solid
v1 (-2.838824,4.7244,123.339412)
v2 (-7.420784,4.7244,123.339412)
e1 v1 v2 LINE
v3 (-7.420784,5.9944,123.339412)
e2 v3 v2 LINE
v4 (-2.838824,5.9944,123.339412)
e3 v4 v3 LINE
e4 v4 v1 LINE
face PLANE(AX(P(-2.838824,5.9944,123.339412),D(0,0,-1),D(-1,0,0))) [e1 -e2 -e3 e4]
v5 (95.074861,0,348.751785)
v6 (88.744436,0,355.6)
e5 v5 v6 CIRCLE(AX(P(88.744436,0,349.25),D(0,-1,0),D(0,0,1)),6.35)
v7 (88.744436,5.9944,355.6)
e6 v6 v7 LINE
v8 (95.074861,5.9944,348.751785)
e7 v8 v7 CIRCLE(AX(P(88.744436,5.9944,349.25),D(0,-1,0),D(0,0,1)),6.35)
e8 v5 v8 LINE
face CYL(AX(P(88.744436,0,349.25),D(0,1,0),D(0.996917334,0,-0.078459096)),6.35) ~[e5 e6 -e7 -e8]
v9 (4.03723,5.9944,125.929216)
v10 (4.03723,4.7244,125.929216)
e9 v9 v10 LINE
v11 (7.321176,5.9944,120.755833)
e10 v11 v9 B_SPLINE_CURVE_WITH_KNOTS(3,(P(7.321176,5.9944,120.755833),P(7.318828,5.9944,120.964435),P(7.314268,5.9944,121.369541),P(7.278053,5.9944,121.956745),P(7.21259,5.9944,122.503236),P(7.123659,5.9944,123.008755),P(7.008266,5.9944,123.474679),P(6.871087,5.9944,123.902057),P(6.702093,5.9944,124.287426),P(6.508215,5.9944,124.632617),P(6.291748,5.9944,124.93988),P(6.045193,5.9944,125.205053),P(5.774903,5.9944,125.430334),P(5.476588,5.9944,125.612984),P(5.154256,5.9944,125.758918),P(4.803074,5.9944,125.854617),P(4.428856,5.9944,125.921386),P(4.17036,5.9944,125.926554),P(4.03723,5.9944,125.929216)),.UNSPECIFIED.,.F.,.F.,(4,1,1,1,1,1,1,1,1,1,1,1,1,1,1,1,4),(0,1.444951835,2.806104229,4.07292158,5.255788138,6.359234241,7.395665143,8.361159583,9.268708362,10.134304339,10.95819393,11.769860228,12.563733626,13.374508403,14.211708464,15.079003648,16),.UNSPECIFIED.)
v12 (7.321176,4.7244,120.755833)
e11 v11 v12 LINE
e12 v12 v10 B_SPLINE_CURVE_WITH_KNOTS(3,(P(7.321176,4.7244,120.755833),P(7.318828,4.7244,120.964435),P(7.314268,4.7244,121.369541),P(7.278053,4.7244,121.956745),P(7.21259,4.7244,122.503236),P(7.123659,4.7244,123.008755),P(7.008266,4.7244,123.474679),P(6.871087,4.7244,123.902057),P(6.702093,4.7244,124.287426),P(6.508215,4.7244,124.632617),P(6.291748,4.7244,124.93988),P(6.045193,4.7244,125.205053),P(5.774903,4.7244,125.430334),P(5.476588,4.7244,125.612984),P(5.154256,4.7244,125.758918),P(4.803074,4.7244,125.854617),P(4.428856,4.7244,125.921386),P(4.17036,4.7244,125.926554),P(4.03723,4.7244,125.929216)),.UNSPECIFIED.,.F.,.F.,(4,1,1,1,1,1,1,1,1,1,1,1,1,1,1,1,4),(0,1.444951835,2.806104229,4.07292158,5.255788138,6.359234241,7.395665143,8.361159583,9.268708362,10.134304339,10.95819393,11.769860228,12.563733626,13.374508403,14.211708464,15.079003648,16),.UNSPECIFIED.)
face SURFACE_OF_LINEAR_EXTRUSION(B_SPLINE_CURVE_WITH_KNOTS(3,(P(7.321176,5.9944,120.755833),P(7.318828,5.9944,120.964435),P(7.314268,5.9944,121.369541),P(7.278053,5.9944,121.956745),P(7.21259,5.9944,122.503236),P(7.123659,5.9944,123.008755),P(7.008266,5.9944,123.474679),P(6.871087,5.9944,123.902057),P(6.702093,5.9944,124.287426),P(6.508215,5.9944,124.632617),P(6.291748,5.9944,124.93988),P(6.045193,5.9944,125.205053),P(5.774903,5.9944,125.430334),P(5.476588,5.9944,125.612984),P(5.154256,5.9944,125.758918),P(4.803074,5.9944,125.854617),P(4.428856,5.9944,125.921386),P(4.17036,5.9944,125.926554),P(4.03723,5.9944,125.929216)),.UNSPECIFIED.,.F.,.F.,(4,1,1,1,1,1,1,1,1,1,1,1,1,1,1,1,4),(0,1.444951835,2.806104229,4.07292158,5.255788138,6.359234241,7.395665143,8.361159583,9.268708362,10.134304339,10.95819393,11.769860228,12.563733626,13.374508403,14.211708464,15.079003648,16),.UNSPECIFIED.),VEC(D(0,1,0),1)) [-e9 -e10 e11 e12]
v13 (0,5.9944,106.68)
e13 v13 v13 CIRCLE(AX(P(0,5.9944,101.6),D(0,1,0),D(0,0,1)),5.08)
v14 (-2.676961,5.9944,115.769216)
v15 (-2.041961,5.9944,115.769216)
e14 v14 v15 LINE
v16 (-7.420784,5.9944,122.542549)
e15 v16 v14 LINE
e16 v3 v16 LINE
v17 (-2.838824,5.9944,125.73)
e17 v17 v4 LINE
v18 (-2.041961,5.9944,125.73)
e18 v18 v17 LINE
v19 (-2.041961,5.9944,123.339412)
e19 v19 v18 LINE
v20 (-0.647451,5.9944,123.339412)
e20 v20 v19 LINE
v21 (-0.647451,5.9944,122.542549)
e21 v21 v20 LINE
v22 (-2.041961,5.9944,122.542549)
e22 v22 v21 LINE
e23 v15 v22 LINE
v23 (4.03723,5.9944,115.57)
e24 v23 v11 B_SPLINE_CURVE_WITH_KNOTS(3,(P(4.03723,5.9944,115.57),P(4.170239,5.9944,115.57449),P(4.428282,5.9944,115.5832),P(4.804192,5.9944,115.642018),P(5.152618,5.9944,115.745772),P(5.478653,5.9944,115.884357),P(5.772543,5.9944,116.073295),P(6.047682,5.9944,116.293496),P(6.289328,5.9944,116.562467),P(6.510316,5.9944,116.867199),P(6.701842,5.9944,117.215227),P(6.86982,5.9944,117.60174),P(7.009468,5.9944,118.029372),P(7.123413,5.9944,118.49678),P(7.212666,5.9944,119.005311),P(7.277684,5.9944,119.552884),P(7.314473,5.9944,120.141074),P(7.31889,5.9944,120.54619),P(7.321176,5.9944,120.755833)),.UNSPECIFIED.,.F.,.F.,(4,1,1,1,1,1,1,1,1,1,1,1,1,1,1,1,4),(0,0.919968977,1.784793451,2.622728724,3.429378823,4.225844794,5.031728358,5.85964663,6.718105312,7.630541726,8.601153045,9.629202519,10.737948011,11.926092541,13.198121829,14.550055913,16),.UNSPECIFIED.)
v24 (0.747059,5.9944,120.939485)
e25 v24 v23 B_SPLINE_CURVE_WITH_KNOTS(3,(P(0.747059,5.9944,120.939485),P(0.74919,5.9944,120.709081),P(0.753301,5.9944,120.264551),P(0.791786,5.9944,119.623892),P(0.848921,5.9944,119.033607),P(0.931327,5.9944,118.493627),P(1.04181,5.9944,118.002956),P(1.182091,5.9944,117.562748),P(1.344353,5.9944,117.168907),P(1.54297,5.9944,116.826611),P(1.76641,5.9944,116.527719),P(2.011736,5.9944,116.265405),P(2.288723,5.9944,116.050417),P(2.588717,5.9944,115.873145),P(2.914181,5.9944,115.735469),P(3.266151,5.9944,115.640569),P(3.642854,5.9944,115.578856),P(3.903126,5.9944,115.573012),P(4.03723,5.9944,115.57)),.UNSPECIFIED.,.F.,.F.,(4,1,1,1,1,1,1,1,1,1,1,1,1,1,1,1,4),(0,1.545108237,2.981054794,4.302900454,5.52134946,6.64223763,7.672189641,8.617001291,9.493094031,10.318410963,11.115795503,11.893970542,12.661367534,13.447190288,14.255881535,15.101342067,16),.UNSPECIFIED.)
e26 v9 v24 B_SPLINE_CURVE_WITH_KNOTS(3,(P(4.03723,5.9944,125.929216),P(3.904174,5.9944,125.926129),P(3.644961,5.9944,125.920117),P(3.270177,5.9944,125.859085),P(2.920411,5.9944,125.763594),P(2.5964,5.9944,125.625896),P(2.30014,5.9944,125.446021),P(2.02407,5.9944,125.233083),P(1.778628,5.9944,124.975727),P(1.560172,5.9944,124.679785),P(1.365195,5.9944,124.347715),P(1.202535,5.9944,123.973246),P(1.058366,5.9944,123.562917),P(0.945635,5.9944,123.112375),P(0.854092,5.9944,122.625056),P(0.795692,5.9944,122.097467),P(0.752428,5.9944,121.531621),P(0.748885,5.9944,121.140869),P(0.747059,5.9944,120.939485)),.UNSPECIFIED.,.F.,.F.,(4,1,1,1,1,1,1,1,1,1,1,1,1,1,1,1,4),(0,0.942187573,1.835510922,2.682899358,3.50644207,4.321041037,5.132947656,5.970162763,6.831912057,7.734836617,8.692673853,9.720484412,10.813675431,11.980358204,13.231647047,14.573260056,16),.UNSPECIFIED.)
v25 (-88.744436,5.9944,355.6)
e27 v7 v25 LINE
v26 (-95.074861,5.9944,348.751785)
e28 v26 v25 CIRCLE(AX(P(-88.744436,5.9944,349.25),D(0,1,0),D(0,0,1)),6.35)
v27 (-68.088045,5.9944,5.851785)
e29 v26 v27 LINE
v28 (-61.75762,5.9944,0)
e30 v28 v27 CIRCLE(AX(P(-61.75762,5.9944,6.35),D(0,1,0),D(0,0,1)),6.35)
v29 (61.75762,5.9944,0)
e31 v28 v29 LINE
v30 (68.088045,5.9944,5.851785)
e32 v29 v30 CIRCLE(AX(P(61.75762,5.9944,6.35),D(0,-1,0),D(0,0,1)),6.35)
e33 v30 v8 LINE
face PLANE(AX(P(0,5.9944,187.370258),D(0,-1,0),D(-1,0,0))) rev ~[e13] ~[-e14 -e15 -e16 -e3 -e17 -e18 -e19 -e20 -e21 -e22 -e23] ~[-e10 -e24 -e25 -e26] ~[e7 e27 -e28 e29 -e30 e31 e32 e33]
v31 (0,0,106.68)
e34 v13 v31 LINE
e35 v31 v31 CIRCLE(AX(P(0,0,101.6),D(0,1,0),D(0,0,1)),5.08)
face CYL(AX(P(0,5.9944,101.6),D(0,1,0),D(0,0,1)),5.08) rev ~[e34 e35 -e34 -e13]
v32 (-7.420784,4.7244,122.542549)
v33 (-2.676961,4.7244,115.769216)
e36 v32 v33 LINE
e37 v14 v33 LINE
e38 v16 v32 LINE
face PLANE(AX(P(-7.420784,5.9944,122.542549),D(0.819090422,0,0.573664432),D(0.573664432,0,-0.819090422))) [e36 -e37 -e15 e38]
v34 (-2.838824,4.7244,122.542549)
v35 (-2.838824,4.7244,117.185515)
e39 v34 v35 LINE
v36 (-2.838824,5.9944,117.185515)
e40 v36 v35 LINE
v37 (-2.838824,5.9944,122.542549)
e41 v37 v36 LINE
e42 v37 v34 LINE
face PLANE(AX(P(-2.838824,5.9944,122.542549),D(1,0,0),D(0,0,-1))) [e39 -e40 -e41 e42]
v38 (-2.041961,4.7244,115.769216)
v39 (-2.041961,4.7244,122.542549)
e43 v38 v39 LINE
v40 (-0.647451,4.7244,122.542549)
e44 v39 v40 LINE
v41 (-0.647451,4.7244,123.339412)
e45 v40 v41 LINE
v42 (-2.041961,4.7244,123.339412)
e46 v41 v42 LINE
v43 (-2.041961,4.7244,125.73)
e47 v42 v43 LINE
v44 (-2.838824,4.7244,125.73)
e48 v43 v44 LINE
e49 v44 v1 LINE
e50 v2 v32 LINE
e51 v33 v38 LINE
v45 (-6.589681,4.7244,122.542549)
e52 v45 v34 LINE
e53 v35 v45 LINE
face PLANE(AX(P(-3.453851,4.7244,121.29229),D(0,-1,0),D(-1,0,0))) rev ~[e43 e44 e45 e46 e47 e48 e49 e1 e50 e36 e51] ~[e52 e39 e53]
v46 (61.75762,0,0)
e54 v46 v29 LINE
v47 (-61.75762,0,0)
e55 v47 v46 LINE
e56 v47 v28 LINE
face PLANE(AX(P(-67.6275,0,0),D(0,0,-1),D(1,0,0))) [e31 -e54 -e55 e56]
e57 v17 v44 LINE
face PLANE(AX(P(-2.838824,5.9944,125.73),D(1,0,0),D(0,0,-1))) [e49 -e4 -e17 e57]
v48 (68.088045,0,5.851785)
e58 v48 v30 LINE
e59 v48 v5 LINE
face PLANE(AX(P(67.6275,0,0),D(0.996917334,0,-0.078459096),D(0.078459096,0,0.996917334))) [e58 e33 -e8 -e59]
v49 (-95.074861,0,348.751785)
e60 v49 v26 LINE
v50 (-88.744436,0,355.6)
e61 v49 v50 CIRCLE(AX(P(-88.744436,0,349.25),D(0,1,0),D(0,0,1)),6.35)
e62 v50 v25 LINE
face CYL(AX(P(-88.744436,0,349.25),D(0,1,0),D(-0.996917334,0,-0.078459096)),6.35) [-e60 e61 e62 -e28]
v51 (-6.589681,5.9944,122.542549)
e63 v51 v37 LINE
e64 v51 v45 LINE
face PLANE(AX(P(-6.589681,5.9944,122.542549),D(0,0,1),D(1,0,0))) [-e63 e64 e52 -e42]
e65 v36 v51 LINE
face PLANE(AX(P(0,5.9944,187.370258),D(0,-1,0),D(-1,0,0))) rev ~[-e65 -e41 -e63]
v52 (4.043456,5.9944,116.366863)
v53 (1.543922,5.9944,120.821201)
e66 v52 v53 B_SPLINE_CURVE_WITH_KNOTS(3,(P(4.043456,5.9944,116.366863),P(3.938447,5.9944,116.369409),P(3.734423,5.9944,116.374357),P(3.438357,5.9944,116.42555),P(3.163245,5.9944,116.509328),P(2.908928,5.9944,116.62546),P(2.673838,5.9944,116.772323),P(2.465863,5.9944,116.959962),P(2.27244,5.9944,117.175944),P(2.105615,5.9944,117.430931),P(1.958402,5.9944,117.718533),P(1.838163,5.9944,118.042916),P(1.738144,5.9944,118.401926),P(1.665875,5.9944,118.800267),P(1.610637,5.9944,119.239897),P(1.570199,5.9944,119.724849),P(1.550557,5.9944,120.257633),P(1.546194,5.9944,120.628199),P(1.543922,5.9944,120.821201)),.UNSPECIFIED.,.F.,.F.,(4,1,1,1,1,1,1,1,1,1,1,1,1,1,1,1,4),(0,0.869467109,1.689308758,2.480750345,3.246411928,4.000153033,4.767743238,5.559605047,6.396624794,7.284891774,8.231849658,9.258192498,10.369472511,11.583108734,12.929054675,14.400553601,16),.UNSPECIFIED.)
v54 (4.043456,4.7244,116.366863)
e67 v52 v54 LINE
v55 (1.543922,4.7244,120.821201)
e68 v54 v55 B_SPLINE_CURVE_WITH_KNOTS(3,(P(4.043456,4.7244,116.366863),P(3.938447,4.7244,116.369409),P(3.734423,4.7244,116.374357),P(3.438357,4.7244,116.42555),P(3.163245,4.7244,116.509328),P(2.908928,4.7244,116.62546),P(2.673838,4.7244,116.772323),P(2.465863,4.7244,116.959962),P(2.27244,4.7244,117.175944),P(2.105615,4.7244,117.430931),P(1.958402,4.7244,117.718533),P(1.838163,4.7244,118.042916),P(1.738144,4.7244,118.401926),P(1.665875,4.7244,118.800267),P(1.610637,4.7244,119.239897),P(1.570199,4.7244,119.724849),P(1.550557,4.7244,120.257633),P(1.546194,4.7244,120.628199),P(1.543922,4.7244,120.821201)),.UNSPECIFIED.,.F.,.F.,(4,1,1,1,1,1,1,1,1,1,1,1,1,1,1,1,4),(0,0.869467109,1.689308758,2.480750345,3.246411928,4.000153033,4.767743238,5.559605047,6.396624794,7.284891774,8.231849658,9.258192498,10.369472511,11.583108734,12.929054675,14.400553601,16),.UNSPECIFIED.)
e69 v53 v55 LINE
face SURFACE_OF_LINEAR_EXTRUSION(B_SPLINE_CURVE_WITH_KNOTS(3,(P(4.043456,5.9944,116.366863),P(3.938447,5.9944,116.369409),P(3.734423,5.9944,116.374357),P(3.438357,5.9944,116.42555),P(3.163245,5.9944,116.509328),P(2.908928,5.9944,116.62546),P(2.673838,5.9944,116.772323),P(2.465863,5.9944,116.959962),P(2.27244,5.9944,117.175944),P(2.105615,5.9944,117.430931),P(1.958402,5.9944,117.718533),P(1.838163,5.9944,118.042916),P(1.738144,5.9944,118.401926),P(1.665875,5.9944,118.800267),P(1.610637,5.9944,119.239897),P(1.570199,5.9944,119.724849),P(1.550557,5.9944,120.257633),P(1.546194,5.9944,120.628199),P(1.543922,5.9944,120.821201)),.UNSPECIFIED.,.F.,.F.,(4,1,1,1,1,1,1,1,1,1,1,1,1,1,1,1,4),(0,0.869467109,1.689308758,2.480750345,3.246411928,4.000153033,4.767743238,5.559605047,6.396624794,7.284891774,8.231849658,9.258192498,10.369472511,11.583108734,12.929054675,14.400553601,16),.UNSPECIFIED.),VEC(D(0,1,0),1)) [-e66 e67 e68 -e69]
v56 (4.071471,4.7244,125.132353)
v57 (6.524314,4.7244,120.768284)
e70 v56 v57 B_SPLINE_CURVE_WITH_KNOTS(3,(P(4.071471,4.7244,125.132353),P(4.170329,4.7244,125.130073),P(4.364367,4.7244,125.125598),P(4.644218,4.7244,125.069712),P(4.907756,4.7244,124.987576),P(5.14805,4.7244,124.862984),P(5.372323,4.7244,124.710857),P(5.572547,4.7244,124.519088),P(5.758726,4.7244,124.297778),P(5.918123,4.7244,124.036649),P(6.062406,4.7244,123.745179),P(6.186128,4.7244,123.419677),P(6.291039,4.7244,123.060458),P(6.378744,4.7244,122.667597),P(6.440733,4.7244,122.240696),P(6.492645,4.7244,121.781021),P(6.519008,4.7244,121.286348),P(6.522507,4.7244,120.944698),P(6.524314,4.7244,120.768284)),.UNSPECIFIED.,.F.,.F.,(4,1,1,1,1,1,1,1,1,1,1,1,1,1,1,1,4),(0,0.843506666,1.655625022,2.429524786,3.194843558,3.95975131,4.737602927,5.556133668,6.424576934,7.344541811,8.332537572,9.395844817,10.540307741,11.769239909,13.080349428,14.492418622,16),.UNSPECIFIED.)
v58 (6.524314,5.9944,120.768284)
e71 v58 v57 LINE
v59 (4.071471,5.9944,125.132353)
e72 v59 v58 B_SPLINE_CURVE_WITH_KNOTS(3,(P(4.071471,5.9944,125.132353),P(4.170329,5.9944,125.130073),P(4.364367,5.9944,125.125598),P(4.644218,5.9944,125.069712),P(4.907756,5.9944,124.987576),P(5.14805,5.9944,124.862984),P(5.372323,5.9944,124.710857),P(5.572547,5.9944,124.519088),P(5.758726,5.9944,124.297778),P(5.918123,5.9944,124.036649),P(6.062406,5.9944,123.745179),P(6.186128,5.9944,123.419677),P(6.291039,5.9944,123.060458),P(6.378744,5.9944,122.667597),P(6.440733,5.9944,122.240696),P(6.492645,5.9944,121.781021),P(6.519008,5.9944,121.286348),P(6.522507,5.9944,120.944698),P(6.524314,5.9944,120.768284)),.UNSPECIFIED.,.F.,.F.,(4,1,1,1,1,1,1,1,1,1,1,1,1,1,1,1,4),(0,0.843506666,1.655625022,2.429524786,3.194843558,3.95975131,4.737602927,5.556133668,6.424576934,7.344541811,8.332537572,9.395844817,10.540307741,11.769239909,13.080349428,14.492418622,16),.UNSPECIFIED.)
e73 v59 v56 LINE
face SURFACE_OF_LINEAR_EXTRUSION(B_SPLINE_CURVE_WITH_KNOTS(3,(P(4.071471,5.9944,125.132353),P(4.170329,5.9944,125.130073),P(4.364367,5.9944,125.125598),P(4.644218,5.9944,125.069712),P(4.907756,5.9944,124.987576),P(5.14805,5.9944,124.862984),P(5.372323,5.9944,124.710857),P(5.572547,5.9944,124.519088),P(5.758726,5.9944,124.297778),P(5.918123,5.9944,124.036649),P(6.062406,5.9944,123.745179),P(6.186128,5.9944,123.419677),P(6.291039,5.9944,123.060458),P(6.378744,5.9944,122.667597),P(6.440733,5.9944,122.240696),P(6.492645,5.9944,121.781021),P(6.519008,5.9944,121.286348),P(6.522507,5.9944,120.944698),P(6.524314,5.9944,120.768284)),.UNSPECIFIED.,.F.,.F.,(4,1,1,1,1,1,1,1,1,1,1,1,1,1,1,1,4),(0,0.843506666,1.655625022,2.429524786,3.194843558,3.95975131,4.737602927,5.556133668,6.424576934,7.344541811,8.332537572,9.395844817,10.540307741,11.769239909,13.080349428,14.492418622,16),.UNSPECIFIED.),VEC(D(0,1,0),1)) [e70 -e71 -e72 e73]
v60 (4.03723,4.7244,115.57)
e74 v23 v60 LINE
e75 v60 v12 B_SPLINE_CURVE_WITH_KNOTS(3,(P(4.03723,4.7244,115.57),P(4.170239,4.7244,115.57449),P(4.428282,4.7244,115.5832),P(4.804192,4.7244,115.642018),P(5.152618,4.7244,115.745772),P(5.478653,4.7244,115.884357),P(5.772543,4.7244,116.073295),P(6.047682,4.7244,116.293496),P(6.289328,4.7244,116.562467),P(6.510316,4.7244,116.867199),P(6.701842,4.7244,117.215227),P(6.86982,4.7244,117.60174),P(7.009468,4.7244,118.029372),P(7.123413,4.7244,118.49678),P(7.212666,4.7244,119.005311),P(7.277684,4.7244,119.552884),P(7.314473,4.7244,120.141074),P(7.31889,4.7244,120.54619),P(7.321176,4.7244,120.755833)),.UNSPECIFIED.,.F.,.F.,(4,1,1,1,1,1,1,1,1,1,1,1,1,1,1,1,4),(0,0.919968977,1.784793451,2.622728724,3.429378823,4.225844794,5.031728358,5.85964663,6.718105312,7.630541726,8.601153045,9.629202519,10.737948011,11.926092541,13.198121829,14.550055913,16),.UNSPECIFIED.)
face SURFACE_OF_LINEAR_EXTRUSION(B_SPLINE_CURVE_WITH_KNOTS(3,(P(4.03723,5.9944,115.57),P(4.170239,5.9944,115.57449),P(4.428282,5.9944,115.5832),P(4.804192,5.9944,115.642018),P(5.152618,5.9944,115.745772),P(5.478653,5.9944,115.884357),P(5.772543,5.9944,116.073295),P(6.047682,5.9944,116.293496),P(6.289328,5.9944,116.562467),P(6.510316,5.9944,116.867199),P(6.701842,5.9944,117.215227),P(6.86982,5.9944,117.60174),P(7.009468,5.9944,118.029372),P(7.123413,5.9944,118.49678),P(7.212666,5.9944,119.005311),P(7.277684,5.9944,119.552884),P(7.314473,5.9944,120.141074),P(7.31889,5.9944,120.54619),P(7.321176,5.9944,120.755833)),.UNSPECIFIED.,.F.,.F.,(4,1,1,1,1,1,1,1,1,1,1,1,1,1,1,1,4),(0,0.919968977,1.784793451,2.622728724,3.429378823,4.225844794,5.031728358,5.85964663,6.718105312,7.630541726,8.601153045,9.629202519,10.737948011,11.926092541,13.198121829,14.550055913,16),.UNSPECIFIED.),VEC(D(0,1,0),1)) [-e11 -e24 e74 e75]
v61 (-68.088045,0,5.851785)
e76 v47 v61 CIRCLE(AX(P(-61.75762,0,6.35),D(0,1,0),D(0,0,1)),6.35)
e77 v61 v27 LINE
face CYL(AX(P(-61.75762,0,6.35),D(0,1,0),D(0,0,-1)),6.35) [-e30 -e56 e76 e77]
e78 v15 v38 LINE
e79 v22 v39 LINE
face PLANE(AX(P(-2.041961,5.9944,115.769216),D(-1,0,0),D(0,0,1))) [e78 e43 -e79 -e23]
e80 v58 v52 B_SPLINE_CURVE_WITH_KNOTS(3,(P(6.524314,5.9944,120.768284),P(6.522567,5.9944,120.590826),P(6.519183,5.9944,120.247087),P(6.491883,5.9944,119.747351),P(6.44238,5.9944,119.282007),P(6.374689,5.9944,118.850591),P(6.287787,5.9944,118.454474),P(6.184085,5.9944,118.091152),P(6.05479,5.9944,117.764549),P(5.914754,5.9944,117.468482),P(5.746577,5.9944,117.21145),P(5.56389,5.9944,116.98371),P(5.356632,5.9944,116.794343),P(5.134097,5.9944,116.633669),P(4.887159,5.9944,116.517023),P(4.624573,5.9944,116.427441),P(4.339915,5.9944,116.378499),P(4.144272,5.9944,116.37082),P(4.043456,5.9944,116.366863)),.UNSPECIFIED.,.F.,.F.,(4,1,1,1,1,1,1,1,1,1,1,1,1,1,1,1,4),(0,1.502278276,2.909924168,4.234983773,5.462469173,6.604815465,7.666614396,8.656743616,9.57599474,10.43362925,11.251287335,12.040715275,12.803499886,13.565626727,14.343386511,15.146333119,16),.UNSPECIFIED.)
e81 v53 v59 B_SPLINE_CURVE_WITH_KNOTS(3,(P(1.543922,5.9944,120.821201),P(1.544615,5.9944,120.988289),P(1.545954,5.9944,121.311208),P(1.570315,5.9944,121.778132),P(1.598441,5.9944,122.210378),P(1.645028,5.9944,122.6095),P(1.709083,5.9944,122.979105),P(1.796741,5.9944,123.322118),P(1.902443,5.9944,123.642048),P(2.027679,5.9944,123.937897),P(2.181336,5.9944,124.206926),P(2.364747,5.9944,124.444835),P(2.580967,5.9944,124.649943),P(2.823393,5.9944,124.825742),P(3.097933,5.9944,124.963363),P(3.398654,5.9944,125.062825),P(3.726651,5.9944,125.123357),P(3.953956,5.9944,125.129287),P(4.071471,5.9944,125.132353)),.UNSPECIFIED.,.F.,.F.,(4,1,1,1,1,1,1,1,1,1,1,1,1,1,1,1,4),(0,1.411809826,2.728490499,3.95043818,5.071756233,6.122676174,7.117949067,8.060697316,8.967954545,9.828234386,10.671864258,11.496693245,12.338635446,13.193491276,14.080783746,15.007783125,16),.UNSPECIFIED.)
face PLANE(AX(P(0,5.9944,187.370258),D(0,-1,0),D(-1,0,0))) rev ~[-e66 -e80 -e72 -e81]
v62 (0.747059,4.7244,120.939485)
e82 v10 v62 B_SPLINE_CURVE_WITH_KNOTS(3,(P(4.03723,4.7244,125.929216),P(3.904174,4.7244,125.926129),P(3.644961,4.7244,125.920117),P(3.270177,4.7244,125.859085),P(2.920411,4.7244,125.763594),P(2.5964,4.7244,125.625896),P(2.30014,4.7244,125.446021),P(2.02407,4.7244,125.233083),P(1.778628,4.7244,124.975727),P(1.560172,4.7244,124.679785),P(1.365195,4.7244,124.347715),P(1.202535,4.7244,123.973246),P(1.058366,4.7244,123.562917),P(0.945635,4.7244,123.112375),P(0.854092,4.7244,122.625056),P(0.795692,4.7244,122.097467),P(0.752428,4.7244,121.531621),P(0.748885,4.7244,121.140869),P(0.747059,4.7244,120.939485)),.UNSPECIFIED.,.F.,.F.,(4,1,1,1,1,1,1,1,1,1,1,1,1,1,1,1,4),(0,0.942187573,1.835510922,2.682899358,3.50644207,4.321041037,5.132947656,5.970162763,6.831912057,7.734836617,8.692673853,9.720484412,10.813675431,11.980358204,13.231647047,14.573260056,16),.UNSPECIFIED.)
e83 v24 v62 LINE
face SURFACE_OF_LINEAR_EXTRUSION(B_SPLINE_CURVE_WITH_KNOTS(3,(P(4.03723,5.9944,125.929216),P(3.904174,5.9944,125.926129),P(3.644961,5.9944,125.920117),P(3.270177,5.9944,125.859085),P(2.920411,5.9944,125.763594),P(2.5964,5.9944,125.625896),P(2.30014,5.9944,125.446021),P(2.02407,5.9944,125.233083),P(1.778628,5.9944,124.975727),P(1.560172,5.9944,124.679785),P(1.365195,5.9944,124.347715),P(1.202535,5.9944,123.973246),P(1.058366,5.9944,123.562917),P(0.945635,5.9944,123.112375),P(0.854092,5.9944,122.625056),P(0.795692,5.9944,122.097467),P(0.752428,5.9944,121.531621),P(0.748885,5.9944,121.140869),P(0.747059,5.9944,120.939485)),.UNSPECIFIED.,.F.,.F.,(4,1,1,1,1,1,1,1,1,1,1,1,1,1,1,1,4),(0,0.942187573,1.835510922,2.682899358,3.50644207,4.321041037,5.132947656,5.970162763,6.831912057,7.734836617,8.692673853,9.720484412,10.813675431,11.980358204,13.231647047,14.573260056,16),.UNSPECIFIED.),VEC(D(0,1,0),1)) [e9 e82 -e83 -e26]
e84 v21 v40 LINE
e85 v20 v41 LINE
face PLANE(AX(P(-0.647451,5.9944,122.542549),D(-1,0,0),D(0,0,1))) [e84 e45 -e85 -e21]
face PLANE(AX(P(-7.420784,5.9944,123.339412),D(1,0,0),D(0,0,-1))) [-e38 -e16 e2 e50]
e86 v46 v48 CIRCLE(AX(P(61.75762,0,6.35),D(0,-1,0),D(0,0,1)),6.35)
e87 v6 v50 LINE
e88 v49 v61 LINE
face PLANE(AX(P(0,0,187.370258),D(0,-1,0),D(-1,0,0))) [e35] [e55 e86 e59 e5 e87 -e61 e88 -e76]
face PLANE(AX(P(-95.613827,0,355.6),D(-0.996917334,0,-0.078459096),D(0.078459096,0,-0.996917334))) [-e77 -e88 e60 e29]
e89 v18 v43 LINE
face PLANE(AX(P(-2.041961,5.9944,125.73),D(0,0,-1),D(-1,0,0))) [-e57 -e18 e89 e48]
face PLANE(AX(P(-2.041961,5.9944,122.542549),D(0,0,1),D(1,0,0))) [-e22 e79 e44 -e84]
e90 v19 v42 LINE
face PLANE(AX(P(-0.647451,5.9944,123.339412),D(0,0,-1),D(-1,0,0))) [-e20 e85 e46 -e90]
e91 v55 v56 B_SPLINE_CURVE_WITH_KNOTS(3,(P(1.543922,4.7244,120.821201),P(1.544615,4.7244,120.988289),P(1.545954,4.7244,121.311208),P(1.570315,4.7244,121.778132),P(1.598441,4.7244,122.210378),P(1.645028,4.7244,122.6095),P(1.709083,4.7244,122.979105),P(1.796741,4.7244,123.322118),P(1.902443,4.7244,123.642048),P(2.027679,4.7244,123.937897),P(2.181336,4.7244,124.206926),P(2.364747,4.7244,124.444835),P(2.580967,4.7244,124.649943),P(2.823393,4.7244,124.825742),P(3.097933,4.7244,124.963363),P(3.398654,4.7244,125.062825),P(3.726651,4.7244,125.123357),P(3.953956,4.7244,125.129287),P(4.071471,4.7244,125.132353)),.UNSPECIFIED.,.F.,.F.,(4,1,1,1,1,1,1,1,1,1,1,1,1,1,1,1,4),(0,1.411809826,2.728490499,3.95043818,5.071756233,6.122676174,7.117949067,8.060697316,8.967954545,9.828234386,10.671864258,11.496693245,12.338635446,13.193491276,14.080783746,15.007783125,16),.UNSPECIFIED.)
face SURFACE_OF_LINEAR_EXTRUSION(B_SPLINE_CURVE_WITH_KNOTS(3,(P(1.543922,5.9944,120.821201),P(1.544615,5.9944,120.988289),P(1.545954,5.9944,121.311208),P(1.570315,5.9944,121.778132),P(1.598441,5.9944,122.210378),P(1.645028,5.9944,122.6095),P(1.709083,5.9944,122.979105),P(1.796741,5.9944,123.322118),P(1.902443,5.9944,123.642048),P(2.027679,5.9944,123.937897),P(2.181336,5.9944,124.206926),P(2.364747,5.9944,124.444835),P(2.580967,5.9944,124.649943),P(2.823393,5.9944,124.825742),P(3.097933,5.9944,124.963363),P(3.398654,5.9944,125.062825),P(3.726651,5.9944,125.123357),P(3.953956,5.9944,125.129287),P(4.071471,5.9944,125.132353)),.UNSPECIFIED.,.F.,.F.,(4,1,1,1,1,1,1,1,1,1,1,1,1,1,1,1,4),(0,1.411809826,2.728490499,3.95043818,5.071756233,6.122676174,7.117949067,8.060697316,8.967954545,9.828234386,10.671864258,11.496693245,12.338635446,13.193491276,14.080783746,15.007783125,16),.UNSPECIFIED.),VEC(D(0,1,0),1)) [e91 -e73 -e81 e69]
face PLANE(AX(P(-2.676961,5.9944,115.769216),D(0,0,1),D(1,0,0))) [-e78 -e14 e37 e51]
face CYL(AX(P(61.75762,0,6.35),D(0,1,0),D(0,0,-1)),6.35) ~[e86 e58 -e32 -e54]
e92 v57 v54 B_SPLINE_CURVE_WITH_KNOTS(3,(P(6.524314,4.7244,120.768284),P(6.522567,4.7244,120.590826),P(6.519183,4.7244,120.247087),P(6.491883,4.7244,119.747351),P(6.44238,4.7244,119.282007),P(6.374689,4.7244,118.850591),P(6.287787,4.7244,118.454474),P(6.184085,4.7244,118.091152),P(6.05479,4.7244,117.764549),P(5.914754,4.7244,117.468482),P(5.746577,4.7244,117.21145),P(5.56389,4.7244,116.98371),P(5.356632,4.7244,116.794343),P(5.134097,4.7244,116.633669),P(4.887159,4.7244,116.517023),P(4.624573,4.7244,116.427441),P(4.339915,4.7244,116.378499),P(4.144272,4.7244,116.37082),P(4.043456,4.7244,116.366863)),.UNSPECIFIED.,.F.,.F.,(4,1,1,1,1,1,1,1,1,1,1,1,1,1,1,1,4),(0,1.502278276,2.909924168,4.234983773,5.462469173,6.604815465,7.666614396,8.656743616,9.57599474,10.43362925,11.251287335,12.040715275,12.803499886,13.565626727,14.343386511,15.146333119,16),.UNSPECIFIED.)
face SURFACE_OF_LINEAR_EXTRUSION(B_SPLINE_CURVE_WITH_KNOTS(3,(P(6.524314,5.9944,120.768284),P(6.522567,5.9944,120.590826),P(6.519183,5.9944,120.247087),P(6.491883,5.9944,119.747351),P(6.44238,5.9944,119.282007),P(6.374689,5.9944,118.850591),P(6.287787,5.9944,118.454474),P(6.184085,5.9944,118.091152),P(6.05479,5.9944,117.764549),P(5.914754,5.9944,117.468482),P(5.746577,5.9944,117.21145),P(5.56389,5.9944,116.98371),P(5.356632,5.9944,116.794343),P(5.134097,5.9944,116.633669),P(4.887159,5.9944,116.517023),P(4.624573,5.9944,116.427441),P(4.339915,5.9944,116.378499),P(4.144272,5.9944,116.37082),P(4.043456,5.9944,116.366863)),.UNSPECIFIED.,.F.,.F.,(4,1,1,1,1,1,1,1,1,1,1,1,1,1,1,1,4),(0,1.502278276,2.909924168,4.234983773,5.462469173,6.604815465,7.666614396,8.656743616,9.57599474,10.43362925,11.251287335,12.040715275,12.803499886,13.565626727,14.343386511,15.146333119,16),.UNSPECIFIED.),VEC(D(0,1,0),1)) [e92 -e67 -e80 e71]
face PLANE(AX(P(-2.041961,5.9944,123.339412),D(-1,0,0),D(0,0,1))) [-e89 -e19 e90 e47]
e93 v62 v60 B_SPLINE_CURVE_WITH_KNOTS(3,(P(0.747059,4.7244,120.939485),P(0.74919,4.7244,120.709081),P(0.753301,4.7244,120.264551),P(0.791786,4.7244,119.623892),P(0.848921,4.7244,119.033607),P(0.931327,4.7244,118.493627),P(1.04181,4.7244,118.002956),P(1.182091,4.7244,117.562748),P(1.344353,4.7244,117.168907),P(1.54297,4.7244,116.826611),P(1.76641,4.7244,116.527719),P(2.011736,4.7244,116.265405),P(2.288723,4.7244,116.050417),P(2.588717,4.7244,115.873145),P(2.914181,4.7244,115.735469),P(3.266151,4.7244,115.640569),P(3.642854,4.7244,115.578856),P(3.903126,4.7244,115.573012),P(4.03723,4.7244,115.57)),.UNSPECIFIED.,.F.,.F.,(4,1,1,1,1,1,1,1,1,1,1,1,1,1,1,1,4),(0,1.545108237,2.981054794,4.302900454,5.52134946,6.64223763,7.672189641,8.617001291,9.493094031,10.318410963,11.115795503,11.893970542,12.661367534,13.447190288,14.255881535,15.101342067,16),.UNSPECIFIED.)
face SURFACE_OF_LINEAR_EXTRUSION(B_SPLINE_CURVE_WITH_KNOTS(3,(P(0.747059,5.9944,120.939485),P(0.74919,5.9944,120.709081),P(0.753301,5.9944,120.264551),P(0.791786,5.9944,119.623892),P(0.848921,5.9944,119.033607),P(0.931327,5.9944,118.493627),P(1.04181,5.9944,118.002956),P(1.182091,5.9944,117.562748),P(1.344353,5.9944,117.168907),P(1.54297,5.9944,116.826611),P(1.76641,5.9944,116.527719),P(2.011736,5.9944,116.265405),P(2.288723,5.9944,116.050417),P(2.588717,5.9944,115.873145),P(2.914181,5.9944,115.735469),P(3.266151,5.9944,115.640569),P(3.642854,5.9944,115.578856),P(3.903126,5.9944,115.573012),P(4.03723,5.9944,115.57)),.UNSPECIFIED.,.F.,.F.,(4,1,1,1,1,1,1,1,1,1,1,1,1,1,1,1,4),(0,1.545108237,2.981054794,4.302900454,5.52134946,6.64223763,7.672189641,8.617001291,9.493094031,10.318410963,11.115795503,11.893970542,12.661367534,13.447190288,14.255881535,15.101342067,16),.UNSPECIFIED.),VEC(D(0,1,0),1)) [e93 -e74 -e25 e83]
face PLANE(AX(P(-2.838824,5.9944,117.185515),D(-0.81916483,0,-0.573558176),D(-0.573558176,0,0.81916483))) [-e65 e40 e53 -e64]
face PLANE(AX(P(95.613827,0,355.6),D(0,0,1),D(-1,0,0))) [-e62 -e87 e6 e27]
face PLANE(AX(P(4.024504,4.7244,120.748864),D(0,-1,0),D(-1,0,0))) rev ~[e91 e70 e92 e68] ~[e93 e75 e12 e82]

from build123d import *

# Parameters (mm, degrees)
BOSS_EXTRUDE1_DEPTH = 5.9944
SKETCH2_R           = 5.08
CUT_EXTRUDE1_DEPTH  = 369.278830147
CUT_EXTRUDE2_DEPTH  = 1.27
FILLET1_R           = 6.35


with BuildPart() as part:
    # Sketch1 → Boss-Extrude1 (new body)
    with BuildSketch(Plane(origin=(0, 0, 0), x_dir=(1, 0, 0), z_dir=(0, 1, 0))):
        Polygon((-67.6275, 0), (67.6275, 0), (95.613826947, -355.6), (-95.613826947, -355.6), align=None)
    extrude(amount=BOSS_EXTRUDE1_DEPTH)

    # Sketch2 → Cut-Extrude1 (cut, through all)
    with BuildSketch(Plane(origin=(0, 5.9944, 0), x_dir=(1, 0, 0), z_dir=(0, 1, 0))):
        with Locations(Location((0, -101.6, 0), (0, 0, 270))):
            Circle(SKETCH2_R)
    extrude(amount=-CUT_EXTRUDE1_DEPTH, mode=Mode.SUBTRACT)

    # Sketch3 → Cut-Extrude2 (cut)
    # profile 1 of 2: a face of its own
    with BuildSketch(Plane(origin=(0, 5.9944, 0), x_dir=(1, 0, 0), z_dir=(0, 1, 0))):
        Polygon((-0.64745098, -123.339411765), (-2.041960784, -123.339411765), (-2.041960784, -125.73), (-2.838823529, -125.73), (-2.838823529, -123.339411765), (-7.420784314, -123.339411765), (-7.420784314, -122.54254902), (-2.676960784, -115.769215686), (-2.041960784, -115.769215686), (-2.041960784, -122.54254902), (-0.64745098, -122.54254902), align=None)
        Polygon((-2.838823529, -122.54254902), (-2.838823529, -117.185514706), (-6.589681373, -122.54254902), align=None, mode=Mode.SUBTRACT)
    # profile 2 of 2: a face of its own
    with BuildSketch(Plane(origin=(0, 5.9944, 0), x_dir=(1, 0, 0), z_dir=(0, 1, 0))):
        with BuildLine():
            add(Edge.make_bspline(
                [(7.321176471, -120.755833333), (7.318828398, -120.964435203), (7.314268428, -121.369541156), (7.278053355, -121.956745016), (7.212590307, -122.503235643), (7.123658685, -123.008755237), (7.008266172, -123.474678786), (6.871087333, -123.902056716), (6.702092819, -124.287425995), (6.508215245, -124.632617465), (6.291747836, -124.939879658), (6.045192851, -125.205053414), (5.774903263, -125.430333986), (5.47658793, -125.612983557), (5.154255704, -125.75891836), (4.803074469, -125.854617169), (4.428855706, -125.921386338), (4.17035965, -125.926554175), (4.037230392, -125.929215686)],
                knots=[0, 0, 0, 0, 1.444951835, 2.806104229, 4.07292158, 5.255788138, 6.359234241, 7.395665143, 8.361159583, 9.268708362, 10.134304339, 10.95819393, 11.769860228, 12.563733626, 13.374508403, 14.211708464, 15.079003648, 16, 16, 16, 16], degree=3))
            add(Edge.make_bspline(
                [(4.037230392, -125.929215686), (3.904173743, -125.926129436), (3.644961099, -125.920116997), (3.27017657, -125.859085315), (2.920411161, -125.763594373), (2.59640029, -125.625895969), (2.300139806, -125.446021212), (2.024069589, -125.233082993), (1.778627689, -124.975727427), (1.560171839, -124.679785297), (1.365195047, -124.347714828), (1.20253453, -123.973246068), (1.058366082, -123.562916679), (0.945634561, -123.112374896), (0.854092493, -122.625055928), (0.795691583, -122.097466824), (0.752427723, -121.531621273), (0.748884772, -121.140869167), (0.747058824, -120.939485294)],
                knots=[0, 0, 0, 0, 0.942187573, 1.835510922, 2.682899358, 3.50644207, 4.321041037, 5.132947656, 5.970162763, 6.831912057, 7.734836617, 8.692673853, 9.720484412, 10.813675431, 11.980358204, 13.231647047, 14.573260056, 16, 16, 16, 16], degree=3))
            add(Edge.make_bspline(
                [(0.747058824, -120.939485294), (0.749189738, -120.709081181), (0.753301018, -120.264550974), (0.791785956, -119.623892076), (0.848921011, -119.033607435), (0.931327178, -118.493626742), (1.041809864, -118.002956136), (1.18209133, -117.562748274), (1.344352733, -117.168906906), (1.542969603, -116.826611164), (1.76640963, -116.527719309), (2.011736134, -116.265404707), (2.288722816, -116.05041743), (2.588716504, -115.873144616), (2.914180915, -115.735469097), (3.266151279, -115.640569114), (3.642854433, -115.578856283), (3.90312556, -115.573011518), (4.037230392, -115.57)],
                knots=[0, 0, 0, 0, 1.545108237, 2.981054794, 4.302900454, 5.52134946, 6.64223763, 7.672189641, 8.617001291, 9.493094031, 10.318410963, 11.115795503, 11.893970542, 12.661367534, 13.447190288, 14.255881535, 15.101342067, 16, 16, 16, 16], degree=3))
            add(Edge.make_bspline(
                [(4.037230392, -115.57), (4.170238627, -115.57448963), (4.428282356, -115.583199774), (4.804192318, -115.642018007), (5.152618043, -115.745772402), (5.478653289, -115.884356647), (5.772542755, -116.073295118), (6.047681503, -116.293496105), (6.289327541, -116.562467111), (6.510315761, -116.867199073), (6.701841879, -117.215226558), (6.869820244, -117.601739646), (7.009467972, -118.029371708), (7.123413066, -118.496780378), (7.21266615, -119.005311375), (7.277684225, -119.552884468), (7.314472673, -120.141074122), (7.318890361, -120.546189931), (7.321176471, -120.755833333)],
                knots=[0, 0, 0, 0, 0.919968977, 1.784793451, 2.622728724, 3.429378823, 4.225844794, 5.031728358, 5.85964663, 6.718105312, 7.630541726, 8.601153045, 9.629202519, 10.737948011, 11.926092541, 13.198121829, 14.550055913, 16, 16, 16, 16], degree=3))
        make_face()
        with BuildLine():
            add(Edge.make_bspline(
                [(6.524313725, -120.768284314), (6.522566947, -120.59082563), (6.519183425, -120.247086842), (6.491882586, -119.747351272), (6.442379883, -119.282006526), (6.374689104, -118.850591154), (6.287787289, -118.454473729), (6.184085269, -118.091152232), (6.054789642, -117.764549081), (5.914753741, -117.468482457), (5.746577036, -117.21145005), (5.563889756, -116.983709924), (5.356631682, -116.79434266), (5.134096525, -116.633668508), (4.887159424, -116.51702345), (4.624573174, -116.42744118), (4.339914631, -116.378499272), (4.144272117, -116.370819959), (4.043455882, -116.366862745)],
                knots=[0, 0, 0, 0, 1.502278276, 2.909924168, 4.234983773, 5.462469173, 6.604815465, 7.666614396, 8.656743616, 9.57599474, 10.43362925, 11.251287335, 12.040715275, 12.803499886, 13.565626727, 14.343386511, 15.146333119, 16, 16, 16, 16], degree=3))
            add(Edge.make_bspline(
                [(4.043455882, -116.366862745), (3.938447052, -116.369409337), (3.734422845, -116.374357173), (3.43835687, -116.425549656), (3.163244621, -116.509328168), (2.90892764, -116.62546025), (2.673837753, -116.772323146), (2.465862577, -116.959962497), (2.272440236, -117.175944485), (2.105615234, -117.430931462), (1.958401995, -117.71853329), (1.838162718, -118.042916058), (1.738143905, -118.401926091), (1.665875136, -118.800267442), (1.610637384, -119.239896883), (1.570198504, -119.724849093), (1.550557152, -120.257632824), (1.546194025, -120.628198528), (1.543921569, -120.82120098)],
                knots=[0, 0, 0, 0, 0.869467109, 1.689308758, 2.480750345, 3.246411928, 4.000153033, 4.767743238, 5.559605047, 6.396624794, 7.284891774, 8.231849658, 9.258192498, 10.369472511, 11.583108734, 12.929054675, 14.400553601, 16, 16, 16, 16], degree=3))
            add(Edge.make_bspline(
                [(1.543921569, -120.82120098), (1.544614632, -120.988289367), (1.54595406, -121.311207558), (1.570315432, -121.778131708), (1.598441181, -122.210377927), (1.645028029, -122.609499828), (1.709082826, -122.979104893), (1.796740701, -123.322117953), (1.902442711, -123.64204798), (2.027679077, -123.937897338), (2.18133626, -124.206925847), (2.364747317, -124.444835267), (2.580966733, -124.649942715), (2.82339308, -124.825742486), (3.097933318, -124.96336255), (3.398653863, -125.062824592), (3.726651153, -125.123356927), (3.95395607, -125.129287098), (4.071470588, -125.132352941)],
                knots=[0, 0, 0, 0, 1.411809826, 2.728490499, 3.95043818, 5.071756233, 6.122676174, 7.117949067, 8.060697316, 8.967954545, 9.828234386, 10.671864258, 11.496693245, 12.338635446, 13.193491276, 14.080783746, 15.007783125, 16, 16, 16, 16], degree=3))
            add(Edge.make_bspline(
                [(4.071470588, -125.132352941), (4.170329033, -125.130072963), (4.364367231, -125.125597848), (4.644218388, -125.069712213), (4.907756322, -124.987576413), (5.148049832, -124.862984482), (5.372323269, -124.710857365), (5.572547405, -124.519087844), (5.758725654, -124.297778208), (5.918122592, -124.036648789), (6.062406119, -123.745178799), (6.186127809, -123.4196766), (6.291039197, -123.06045838), (6.37874373, -122.667596662), (6.4407328, -122.240695517), (6.492645246, -121.781020892), (6.51900758, -121.286348012), (6.522506852, -120.944697746), (6.524313725, -120.768284314)],
                knots=[0, 0, 0, 0, 0.843506666, 1.655625022, 2.429524786, 3.194843558, 3.95975131, 4.737602927, 5.556133668, 6.424576934, 7.344541811, 8.332537572, 9.395844817, 10.540307741, 11.769239909, 13.080349428, 14.492418622, 16, 16, 16, 16], degree=3))
        make_face(mode=Mode.SUBTRACT)
    extrude(amount=-CUT_EXTRUDE2_DEPTH, mode=Mode.SUBTRACT)

    # Fillet1
    fillet1_edges = [part.edges().sort_by_distance(p)[0] for p in [
        (95.613826947, 2.9972, 355.6),
        (-95.613826947, 2.9972, 355.6),
        (-67.6275, 2.9972, 0),
        (67.6275, 2.9972, 0),
    ]]
    fillet(fillet1_edges, radius=FILLET1_R)


solid = part.part
